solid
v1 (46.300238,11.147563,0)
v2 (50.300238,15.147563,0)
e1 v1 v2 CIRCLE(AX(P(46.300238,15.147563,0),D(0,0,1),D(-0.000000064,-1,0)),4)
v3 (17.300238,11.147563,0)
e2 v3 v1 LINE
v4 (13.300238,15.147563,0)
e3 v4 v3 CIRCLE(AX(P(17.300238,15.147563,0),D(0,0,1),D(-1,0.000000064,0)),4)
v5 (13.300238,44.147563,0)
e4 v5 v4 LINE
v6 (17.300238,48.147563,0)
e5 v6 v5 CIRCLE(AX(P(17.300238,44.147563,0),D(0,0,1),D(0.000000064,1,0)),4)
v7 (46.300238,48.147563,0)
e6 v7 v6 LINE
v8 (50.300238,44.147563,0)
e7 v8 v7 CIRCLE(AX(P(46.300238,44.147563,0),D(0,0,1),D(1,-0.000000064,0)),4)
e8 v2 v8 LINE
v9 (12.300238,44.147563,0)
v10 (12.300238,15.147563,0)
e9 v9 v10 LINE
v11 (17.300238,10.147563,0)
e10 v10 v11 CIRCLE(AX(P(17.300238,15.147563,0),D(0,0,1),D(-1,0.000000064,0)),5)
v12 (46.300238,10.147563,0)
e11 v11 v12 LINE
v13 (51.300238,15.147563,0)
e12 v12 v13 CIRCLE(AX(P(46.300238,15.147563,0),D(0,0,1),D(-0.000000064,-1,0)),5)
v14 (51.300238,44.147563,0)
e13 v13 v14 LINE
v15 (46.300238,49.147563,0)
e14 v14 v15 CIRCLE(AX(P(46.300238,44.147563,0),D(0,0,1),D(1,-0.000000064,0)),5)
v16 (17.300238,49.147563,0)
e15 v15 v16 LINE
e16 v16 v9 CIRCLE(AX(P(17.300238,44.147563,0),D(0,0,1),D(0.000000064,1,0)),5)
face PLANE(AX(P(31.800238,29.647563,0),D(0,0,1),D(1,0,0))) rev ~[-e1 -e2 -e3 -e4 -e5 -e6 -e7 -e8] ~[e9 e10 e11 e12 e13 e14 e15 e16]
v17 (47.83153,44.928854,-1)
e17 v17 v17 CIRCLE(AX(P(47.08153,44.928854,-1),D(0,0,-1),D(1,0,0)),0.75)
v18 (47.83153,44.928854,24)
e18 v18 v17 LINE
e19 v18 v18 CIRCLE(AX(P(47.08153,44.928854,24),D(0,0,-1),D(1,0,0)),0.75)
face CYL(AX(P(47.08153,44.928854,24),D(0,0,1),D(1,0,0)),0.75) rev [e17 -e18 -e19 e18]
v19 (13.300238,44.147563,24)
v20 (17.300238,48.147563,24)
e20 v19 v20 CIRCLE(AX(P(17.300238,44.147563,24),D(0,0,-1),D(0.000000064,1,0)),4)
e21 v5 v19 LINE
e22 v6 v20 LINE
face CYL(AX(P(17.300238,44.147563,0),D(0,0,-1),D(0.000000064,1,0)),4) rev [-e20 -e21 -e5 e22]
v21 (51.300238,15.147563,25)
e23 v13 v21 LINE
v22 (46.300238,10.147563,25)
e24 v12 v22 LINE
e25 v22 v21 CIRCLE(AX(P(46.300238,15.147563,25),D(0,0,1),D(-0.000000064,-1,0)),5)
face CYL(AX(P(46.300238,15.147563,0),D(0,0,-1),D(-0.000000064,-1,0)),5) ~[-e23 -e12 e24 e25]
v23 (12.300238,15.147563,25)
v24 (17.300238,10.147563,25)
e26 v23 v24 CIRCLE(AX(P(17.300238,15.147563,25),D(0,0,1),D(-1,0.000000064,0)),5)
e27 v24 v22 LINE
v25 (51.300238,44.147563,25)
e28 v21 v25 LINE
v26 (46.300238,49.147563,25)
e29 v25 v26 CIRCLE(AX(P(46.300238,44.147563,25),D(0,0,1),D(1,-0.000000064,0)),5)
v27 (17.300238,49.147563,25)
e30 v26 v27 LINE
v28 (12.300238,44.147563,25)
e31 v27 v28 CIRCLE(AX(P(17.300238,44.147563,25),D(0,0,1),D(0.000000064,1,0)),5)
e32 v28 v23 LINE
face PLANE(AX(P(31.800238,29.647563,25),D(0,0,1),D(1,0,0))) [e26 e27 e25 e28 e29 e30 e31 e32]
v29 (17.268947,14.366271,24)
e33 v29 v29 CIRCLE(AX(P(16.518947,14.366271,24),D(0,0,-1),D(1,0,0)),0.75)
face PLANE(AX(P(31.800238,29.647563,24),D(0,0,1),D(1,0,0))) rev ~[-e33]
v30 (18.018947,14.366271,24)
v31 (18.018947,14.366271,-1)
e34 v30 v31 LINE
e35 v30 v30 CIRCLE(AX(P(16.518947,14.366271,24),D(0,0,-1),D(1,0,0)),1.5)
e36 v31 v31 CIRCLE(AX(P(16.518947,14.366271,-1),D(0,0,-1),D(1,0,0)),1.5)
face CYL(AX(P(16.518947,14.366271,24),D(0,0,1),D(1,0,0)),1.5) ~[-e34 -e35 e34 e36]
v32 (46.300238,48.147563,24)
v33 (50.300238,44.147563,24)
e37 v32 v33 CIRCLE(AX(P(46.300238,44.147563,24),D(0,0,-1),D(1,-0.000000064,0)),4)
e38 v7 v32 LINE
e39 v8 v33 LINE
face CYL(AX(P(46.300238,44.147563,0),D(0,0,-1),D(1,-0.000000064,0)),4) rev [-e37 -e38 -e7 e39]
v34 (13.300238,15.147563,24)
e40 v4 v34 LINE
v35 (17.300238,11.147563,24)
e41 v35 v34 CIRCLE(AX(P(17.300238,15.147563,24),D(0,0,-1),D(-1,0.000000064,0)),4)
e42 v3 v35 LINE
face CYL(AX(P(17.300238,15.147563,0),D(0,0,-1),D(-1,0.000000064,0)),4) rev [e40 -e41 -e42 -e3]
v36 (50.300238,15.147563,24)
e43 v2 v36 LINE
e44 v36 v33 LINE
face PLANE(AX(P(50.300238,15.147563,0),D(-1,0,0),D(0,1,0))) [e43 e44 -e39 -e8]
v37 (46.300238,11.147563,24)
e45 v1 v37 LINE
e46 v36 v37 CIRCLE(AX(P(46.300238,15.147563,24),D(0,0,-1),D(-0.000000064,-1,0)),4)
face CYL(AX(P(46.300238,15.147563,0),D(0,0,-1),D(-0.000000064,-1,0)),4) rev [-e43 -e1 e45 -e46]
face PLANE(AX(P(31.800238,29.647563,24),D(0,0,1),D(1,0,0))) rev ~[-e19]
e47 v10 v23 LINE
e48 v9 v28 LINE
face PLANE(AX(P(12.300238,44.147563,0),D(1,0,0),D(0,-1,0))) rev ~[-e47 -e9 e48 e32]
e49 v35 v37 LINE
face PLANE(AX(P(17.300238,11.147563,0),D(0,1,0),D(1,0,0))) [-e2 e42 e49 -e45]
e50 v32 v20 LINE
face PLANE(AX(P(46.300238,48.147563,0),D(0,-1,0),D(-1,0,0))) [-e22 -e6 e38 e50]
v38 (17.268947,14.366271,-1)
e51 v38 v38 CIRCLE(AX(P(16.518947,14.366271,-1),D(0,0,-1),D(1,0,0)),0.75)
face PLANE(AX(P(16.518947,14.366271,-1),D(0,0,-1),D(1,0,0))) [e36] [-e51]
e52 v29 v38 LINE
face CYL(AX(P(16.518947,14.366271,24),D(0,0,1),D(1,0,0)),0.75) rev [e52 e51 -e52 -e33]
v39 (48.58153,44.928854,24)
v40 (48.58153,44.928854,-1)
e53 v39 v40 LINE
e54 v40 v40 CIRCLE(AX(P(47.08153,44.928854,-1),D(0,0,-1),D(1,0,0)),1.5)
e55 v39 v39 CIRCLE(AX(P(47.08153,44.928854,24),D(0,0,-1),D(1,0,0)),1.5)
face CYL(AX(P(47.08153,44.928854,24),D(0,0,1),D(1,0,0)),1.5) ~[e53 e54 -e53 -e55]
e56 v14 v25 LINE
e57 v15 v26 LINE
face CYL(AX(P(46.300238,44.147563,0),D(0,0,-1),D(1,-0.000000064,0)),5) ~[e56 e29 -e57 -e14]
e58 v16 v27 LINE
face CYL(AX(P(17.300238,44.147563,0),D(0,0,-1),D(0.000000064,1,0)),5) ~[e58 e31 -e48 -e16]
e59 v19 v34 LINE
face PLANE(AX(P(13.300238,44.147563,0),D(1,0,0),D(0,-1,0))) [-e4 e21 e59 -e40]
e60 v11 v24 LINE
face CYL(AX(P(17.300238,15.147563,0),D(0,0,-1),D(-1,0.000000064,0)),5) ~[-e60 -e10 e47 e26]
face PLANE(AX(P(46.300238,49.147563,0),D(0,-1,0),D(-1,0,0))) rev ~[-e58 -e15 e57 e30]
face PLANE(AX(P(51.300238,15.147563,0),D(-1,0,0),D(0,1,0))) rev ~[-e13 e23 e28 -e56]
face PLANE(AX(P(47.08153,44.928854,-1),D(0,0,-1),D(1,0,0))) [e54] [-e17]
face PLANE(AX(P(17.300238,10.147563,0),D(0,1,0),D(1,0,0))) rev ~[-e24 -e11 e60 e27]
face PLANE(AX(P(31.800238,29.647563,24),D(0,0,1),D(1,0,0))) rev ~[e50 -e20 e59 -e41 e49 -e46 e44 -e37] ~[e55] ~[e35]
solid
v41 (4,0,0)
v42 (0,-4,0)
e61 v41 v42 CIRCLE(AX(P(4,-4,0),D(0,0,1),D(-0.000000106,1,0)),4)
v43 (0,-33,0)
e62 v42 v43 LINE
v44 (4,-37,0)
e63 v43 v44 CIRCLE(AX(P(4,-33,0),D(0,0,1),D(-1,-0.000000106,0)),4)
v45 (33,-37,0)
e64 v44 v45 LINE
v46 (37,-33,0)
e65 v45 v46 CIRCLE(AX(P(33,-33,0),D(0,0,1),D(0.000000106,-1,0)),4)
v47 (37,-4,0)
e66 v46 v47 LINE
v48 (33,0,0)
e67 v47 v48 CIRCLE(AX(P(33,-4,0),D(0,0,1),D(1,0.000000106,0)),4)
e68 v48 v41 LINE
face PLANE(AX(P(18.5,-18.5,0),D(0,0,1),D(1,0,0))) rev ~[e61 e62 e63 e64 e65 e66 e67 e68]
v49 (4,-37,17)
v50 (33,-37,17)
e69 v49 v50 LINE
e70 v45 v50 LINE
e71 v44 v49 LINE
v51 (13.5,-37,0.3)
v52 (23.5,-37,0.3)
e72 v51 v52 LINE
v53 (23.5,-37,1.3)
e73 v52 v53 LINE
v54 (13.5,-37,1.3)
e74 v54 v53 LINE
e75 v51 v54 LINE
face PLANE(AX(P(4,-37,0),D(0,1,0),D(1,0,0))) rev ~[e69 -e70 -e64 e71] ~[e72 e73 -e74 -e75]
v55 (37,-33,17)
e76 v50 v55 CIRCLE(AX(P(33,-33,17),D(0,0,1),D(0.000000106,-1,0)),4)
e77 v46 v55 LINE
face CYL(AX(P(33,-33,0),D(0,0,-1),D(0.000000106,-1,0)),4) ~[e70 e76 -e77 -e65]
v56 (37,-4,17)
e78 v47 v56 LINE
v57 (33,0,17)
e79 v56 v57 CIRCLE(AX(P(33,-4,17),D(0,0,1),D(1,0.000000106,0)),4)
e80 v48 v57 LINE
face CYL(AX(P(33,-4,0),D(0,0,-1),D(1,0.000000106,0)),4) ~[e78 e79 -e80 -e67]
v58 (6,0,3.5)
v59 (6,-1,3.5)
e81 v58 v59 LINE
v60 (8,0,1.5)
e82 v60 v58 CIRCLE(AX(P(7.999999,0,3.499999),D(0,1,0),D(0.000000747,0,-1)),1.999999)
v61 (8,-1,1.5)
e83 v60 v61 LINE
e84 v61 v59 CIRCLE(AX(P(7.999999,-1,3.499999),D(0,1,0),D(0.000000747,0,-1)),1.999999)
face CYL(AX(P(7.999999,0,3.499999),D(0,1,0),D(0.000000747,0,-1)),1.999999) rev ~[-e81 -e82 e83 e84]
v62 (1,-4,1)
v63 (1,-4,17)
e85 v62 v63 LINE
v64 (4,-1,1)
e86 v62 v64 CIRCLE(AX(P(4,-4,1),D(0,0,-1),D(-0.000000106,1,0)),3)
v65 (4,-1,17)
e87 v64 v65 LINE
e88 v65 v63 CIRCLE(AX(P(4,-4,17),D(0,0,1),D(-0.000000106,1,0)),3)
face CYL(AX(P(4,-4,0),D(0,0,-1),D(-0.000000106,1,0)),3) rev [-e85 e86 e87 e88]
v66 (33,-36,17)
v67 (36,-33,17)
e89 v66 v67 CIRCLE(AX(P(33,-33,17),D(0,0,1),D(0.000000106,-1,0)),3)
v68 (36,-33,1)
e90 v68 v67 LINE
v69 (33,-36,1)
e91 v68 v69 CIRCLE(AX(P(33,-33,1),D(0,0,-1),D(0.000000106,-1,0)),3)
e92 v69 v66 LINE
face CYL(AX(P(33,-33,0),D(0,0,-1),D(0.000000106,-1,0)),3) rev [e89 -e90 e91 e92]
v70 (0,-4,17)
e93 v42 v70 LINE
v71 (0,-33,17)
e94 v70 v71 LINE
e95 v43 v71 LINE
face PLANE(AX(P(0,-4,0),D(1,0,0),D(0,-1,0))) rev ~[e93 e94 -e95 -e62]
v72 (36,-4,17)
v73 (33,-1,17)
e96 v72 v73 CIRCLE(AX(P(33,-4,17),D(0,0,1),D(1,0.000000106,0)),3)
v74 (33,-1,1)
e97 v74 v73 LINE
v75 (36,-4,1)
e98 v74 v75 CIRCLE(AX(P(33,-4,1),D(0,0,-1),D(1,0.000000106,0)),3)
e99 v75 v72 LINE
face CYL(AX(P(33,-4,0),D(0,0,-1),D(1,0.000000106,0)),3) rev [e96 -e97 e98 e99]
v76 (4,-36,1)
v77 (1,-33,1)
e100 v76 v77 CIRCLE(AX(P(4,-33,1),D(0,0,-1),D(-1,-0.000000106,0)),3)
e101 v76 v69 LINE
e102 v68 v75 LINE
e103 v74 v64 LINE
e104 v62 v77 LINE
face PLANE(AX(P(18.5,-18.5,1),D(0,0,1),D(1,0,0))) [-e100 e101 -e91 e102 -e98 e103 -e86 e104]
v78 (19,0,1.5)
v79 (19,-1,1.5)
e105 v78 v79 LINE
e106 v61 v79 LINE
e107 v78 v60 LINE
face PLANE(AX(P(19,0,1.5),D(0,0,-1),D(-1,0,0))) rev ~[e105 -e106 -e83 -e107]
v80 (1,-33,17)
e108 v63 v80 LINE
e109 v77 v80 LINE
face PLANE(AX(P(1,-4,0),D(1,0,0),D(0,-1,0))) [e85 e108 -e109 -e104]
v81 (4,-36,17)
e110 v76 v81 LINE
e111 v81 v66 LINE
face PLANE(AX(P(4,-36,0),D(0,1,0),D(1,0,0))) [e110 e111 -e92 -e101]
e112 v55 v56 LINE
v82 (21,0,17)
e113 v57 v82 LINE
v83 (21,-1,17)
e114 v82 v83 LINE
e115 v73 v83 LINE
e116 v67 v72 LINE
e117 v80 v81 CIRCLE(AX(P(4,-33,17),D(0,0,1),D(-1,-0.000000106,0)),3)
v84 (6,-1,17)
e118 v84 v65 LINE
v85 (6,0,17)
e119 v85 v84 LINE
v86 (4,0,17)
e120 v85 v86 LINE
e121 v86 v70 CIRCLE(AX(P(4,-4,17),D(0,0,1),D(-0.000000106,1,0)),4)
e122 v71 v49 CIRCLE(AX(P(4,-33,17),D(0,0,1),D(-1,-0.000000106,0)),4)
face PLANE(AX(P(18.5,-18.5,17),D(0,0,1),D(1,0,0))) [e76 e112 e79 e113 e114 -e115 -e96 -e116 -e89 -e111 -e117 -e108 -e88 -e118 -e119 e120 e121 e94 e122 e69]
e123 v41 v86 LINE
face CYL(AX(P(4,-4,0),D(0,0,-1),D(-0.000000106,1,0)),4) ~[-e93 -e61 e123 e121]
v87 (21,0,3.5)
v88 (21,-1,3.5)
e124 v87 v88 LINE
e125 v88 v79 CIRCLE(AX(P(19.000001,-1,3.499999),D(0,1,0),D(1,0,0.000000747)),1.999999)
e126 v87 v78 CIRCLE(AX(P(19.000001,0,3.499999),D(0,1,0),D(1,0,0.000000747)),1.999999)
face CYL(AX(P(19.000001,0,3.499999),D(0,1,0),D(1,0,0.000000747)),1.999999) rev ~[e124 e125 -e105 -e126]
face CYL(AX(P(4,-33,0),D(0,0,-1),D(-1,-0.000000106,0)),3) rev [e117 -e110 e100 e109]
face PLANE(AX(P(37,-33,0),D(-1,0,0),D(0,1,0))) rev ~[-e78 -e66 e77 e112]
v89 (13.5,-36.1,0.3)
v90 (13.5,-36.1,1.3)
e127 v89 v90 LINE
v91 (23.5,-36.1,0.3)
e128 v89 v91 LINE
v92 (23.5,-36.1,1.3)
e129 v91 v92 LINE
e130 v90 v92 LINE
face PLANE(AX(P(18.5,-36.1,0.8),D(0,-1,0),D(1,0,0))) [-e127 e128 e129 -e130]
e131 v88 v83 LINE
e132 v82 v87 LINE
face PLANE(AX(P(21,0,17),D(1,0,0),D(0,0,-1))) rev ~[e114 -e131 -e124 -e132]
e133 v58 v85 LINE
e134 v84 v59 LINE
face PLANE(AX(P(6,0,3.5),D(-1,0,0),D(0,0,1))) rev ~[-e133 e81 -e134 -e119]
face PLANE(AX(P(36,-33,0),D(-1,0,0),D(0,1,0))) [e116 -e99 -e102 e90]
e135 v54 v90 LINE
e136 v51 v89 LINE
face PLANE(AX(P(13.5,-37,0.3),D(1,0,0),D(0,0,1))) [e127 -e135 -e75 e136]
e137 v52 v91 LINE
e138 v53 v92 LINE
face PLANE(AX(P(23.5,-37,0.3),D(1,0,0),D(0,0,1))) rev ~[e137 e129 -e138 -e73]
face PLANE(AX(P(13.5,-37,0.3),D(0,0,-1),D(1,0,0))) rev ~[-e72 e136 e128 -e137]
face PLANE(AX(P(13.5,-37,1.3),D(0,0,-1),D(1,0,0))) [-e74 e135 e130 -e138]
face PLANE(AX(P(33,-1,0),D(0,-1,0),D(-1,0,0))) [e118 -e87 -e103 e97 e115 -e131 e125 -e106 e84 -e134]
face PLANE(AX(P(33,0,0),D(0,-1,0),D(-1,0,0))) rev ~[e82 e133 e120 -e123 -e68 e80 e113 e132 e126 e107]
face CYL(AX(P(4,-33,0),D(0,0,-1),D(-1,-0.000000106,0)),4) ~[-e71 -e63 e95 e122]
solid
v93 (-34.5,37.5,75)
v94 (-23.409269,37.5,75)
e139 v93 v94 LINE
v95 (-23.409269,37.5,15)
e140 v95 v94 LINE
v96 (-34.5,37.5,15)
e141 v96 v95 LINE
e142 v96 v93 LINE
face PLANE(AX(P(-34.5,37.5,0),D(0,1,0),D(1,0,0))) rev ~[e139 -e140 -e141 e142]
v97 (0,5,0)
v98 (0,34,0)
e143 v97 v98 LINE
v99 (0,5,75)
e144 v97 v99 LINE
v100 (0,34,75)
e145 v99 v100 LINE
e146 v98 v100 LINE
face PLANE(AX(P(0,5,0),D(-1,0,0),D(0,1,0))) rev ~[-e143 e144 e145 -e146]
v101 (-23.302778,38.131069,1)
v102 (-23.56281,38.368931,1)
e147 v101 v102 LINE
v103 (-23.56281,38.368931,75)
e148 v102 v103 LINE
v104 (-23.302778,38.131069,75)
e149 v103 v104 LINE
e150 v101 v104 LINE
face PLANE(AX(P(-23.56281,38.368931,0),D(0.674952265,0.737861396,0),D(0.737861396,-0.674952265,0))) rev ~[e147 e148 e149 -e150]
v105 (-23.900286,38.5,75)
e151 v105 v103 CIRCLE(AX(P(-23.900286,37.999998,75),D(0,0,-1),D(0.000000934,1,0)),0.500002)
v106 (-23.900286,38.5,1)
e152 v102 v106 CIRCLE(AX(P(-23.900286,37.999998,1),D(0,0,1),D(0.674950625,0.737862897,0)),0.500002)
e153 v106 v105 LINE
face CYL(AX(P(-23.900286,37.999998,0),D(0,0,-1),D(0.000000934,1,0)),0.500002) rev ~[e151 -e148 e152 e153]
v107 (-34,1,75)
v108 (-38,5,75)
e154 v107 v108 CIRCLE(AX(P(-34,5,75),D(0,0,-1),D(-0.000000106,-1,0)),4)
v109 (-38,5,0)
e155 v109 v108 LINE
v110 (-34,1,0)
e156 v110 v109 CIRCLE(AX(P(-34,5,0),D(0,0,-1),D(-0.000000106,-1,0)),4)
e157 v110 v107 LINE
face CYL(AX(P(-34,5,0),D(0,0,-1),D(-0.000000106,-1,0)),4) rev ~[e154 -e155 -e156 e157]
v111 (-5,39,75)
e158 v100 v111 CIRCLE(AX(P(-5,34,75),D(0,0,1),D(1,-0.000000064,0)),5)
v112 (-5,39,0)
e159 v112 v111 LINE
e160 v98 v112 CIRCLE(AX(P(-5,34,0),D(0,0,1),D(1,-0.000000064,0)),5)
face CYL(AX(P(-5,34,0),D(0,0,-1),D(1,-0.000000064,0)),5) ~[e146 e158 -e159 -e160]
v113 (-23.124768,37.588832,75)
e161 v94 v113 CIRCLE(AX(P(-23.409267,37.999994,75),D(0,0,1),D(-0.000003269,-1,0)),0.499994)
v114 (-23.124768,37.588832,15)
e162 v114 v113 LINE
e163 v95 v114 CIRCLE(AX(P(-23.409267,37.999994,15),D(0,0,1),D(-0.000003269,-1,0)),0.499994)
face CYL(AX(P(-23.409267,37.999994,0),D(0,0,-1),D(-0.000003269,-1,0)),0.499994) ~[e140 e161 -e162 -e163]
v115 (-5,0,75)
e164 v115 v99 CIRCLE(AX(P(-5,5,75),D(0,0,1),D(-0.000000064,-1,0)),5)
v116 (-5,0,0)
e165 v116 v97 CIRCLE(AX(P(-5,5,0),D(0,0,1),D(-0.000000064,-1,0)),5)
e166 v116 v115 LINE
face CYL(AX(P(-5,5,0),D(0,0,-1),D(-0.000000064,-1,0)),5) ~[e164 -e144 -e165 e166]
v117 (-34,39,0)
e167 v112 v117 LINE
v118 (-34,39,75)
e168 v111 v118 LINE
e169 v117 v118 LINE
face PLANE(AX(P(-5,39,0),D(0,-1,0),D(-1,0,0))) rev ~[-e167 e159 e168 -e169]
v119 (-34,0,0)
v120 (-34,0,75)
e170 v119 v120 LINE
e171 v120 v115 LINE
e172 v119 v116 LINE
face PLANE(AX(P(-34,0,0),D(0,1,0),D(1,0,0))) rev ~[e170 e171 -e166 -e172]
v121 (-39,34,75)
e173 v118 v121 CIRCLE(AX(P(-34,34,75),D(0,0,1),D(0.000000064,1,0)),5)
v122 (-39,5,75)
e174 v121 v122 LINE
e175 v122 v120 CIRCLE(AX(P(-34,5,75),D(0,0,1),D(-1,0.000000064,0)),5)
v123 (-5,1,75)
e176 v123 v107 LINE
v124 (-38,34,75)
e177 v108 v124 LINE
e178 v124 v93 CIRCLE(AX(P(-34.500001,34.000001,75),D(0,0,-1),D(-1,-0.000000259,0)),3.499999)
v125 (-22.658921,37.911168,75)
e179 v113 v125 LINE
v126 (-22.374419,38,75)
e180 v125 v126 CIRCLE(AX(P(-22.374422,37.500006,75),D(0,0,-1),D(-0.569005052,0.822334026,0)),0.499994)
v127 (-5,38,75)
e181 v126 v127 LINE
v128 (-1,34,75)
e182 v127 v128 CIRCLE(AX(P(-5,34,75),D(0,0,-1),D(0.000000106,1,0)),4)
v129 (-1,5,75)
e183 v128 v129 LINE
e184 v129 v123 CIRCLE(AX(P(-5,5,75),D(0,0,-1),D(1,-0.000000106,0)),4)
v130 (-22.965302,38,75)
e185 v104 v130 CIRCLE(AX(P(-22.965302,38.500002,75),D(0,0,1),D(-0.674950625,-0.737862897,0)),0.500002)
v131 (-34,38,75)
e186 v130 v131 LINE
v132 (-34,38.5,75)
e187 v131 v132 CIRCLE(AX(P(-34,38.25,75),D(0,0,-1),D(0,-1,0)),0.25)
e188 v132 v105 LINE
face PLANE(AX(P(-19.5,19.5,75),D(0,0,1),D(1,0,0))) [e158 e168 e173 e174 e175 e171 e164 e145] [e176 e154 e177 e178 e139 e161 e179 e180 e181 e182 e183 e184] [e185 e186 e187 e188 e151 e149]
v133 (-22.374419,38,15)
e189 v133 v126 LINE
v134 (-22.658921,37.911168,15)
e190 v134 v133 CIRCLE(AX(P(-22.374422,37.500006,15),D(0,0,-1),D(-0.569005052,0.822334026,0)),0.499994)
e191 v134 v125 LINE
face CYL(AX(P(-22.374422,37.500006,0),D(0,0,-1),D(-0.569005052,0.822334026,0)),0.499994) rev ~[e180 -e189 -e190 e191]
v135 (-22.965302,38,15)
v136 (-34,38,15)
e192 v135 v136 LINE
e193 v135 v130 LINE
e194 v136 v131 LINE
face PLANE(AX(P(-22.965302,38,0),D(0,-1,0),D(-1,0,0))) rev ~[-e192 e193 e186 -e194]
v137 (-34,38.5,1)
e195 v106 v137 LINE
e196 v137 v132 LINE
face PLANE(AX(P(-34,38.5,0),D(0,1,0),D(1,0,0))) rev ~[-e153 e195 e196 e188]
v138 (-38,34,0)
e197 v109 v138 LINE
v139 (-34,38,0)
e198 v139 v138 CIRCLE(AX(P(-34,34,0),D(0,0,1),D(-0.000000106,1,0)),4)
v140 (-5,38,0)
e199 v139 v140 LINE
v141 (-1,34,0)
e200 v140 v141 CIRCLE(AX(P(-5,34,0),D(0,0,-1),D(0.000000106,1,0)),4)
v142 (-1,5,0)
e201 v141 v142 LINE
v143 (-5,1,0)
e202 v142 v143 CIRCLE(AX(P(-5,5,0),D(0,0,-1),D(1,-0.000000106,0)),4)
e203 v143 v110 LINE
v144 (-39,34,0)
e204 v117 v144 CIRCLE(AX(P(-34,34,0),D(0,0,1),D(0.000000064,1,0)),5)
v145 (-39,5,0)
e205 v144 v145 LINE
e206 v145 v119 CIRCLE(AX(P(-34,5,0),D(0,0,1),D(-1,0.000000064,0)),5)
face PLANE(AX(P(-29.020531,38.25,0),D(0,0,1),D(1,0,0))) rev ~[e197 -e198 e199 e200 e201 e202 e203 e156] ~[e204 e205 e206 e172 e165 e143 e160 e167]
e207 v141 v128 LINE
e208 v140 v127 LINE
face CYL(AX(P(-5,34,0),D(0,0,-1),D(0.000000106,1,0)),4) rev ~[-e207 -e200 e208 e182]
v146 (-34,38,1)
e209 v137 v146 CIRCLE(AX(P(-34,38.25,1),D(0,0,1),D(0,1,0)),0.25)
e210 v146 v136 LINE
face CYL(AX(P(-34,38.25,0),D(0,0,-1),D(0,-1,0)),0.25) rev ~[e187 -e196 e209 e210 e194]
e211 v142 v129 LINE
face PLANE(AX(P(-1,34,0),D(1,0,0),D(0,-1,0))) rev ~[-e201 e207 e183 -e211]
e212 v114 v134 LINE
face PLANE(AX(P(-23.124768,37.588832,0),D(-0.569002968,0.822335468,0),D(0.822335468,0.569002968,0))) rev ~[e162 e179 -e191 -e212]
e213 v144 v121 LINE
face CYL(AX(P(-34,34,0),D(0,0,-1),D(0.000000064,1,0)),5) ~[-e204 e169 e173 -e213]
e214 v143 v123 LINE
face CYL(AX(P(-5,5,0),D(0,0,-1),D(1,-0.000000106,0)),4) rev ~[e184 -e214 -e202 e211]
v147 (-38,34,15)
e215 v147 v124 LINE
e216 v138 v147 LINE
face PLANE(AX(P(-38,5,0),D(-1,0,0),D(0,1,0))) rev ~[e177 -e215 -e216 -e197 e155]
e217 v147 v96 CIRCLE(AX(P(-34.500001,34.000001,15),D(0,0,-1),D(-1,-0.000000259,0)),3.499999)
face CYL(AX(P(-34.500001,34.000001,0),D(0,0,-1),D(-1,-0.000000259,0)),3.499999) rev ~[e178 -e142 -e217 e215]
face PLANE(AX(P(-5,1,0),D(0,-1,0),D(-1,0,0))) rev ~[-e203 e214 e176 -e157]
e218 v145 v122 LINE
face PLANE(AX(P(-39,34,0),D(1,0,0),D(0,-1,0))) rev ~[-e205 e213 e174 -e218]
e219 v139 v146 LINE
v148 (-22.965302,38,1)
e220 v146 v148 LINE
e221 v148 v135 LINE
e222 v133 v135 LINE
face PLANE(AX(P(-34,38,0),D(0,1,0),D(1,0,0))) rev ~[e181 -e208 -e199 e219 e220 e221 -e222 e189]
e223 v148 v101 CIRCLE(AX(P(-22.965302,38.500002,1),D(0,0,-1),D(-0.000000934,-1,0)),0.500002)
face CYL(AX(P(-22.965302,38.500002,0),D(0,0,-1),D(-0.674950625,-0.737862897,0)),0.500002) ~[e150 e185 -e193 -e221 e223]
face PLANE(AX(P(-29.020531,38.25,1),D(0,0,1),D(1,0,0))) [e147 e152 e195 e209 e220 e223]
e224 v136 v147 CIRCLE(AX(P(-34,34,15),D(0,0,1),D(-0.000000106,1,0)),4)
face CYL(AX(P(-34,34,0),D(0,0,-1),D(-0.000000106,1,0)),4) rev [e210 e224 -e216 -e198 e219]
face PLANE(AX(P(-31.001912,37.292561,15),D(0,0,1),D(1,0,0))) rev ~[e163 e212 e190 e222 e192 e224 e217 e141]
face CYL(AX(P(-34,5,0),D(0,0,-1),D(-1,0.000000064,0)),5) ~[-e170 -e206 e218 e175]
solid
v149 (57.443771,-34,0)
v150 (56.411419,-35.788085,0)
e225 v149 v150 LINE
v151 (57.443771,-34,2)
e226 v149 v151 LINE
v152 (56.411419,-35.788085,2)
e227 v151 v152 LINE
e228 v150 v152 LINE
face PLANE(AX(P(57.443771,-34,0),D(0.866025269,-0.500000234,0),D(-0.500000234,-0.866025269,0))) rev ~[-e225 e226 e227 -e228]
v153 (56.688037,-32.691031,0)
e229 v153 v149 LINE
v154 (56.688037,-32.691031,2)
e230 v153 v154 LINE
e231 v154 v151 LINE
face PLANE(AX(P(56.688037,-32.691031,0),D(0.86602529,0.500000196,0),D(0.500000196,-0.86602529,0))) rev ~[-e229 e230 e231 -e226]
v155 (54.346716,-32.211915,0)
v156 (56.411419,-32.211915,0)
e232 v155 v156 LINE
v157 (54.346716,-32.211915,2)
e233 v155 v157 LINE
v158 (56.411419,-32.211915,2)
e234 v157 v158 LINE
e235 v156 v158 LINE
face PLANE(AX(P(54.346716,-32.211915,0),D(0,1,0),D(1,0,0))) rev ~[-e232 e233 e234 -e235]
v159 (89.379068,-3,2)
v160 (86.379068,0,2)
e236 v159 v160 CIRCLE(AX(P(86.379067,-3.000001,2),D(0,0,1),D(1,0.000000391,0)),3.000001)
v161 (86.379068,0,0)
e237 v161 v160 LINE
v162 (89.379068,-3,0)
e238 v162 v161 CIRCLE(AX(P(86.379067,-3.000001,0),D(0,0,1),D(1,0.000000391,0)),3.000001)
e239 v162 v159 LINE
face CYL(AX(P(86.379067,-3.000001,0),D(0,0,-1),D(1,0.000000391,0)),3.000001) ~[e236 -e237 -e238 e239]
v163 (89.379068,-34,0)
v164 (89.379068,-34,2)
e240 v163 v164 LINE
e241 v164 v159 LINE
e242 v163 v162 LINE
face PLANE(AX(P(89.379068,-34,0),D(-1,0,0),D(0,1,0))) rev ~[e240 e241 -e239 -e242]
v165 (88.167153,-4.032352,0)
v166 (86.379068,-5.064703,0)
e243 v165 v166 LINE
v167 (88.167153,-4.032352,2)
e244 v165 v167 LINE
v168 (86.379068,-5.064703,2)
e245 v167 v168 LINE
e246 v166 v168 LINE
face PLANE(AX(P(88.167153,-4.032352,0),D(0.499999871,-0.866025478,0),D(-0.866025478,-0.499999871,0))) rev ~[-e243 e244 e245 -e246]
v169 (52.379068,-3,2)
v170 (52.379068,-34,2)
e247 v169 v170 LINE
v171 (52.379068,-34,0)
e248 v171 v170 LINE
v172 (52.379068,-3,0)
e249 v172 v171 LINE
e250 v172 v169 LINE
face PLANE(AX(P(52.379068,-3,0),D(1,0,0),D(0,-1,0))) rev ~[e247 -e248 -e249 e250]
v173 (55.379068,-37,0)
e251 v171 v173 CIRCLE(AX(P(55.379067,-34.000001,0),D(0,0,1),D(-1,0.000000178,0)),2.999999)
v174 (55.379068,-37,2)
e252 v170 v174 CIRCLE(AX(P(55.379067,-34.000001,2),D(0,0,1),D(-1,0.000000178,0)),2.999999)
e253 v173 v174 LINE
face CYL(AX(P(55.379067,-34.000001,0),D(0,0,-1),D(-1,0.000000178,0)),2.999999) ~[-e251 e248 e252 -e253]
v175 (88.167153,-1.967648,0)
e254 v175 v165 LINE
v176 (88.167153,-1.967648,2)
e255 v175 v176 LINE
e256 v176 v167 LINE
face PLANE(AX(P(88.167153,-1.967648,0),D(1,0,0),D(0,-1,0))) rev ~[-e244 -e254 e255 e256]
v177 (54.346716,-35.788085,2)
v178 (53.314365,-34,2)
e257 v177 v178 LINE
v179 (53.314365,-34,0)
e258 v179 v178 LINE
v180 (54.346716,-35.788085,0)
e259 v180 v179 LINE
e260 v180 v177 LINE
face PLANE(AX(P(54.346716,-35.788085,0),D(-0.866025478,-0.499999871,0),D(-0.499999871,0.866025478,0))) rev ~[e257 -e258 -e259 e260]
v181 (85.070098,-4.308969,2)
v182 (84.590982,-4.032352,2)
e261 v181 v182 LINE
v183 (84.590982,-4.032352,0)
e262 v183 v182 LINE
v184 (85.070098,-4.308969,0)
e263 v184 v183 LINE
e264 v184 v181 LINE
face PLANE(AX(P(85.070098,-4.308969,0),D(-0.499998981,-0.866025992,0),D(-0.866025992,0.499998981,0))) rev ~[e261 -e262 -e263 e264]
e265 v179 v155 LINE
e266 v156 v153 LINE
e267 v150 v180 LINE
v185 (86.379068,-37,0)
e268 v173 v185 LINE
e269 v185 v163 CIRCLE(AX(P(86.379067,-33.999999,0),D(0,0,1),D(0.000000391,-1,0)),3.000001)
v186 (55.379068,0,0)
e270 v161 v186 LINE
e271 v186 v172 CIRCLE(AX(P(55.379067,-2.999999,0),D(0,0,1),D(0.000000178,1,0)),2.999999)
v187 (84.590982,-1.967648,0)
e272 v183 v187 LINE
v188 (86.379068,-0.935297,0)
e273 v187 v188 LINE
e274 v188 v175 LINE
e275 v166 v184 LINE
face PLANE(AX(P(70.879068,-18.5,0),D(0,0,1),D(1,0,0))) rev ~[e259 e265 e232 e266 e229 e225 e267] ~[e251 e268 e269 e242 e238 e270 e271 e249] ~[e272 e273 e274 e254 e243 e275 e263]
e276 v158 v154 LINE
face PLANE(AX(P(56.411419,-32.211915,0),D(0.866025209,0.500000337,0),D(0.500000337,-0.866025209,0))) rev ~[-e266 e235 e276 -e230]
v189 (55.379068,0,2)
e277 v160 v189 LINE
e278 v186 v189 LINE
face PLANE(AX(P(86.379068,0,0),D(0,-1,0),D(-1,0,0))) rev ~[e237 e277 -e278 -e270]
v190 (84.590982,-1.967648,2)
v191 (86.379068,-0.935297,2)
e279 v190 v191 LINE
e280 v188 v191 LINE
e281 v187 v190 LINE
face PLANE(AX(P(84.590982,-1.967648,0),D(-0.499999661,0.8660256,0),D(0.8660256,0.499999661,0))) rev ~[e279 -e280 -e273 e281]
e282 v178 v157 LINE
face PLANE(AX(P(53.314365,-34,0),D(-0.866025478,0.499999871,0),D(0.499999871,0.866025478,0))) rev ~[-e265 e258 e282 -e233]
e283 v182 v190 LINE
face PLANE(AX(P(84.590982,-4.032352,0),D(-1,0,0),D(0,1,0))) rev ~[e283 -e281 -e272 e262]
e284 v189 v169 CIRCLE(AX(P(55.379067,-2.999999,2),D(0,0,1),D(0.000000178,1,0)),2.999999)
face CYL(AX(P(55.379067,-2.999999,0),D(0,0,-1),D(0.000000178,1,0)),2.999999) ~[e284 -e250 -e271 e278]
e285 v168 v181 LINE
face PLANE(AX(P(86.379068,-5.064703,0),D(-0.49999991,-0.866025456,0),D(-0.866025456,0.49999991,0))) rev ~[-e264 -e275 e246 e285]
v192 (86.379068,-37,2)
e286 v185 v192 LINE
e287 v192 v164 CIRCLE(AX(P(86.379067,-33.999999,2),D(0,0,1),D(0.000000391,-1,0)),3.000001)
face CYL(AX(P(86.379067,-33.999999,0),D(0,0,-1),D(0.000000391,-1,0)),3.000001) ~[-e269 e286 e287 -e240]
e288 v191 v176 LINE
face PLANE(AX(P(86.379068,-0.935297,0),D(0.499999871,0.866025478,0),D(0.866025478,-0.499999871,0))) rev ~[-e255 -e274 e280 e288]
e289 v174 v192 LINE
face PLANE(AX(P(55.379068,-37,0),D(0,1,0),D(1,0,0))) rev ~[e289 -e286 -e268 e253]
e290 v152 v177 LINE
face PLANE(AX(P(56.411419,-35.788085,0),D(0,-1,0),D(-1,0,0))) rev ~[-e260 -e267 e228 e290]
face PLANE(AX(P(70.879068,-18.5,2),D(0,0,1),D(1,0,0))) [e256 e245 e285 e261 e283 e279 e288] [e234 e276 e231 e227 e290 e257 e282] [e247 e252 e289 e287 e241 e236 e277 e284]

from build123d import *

# Parameters (mm, degrees)
F1_DEPTH  = 17
F2_T      = -1
F4_DEPTH  = 2
F5_W      = 10
F5_H      = 1
F6_DEPTH  = 0.9
F8_DEPTH  = 75
F9_DEPTH  = 15
F10_DEPTH = 1
F12_DEPTH = 25
F13_T     = -1
F14_R     = 1.5
F14_R_2   = 0.75
F15_DEPTH = 25
F17_DEPTH = 2


with BuildPart() as f1:
    # F0 (on Top) → F1 (new body)
    with BuildSketch(Plane.XY):
        with BuildLine():
            Line((33, 0), (4, 0))
            ThreePointArc((4, 0), (1.171573, -1.171573), (0, -4))
            Line((0, -4), (0, -33))
            ThreePointArc((0, -33), (1.171573, -35.828427), (4, -37))
            Line((4, -37), (33, -37))
            ThreePointArc((33, -37), (35.828427, -35.828427), (37, -33))
            Line((37, -33), (37, -4))
            ThreePointArc((37, -4), (35.828427, -1.171573), (33, 0))
        make_face()
    extrude(amount=F1_DEPTH)

    # F2
    f2_openings = [f1.faces().sort_by_distance(p)[0] for p in [
        (18.5, -18.5, 17),
    ]]
    offset(amount=F2_T, openings=f2_openings)

    # F3 (on face) → F4 (cut)
    with BuildSketch(Plane(origin=(0, 0, 0), x_dir=(-1, 0, 0), z_dir=(0, 1, 0))):
        with BuildLine():
            Line((-19, 1.5), (-8, 1.5))
            ThreePointArc((-8, 1.5), (-6.585786, 2.085786), (-6, 3.5))
            Line((-6, 3.5), (-6, 17))
            Line((-6, 17), (-21, 17))
            Line((-21, 17), (-21, 3.5))
            ThreePointArc((-21, 3.5), (-20.414214, 2.085786), (-19, 1.5))
        make_face()
    extrude(amount=-F4_DEPTH, mode=Mode.SUBTRACT)

    # F5 (on face) → F6 (cut)
    with BuildSketch(Plane.XZ.offset(37)):
        with Locations((18.5, 0.8)):
            Rectangle(F5_W, F5_H)
    extrude(amount=-F6_DEPTH, mode=Mode.SUBTRACT)


with BuildPart() as f8:
    # F7 (on Top) → F8 (new body)
    with BuildSketch(Plane.XY):
        with BuildLine():
            Line((-34, 0), (-5, 0))
            ThreePointArc((-5, 0), (-1.464466, 1.464466), (0, 5))
            Line((0, 5), (0, 34))
            ThreePointArc((0, 34), (-1.464466, 37.535534), (-5, 39))
            Line((-5, 39), (-34, 39))
            ThreePointArc((-34, 39), (-37.535534, 37.535534), (-39, 34))
            Line((-39, 34), (-39, 5))
            ThreePointArc((-39, 5), (-37.535534, 1.464466), (-34, 0))
        make_face()
        with BuildLine():
            ThreePointArc((-38, 34), (-36.828427, 36.828427), (-34, 38))
            ThreePointArc((-34, 38), (-34.25, 38.25), (-34, 38.5))
            Line((-34, 38.5), (-24.041062, 38.5))
            Line((-24.041062, 38.5), (-23.900286, 38.5))
            ThreePointArc((-23.900286, 38.5), (-23.719268, 38.466082), (-23.56281, 38.368931))
            Line((-23.56281, 38.368931), (-23.302778, 38.131069))
            ThreePointArc((-23.302778, 38.131069), (-23.14632, 38.033918), (-22.965302, 38))
            Line((-22.965302, 38), (-22.374419, 38))
            Line((-22.374419, 38), (-5, 38))
            ThreePointArc((-5, 38), (-2.171573, 36.828427), (-1, 34))
            Line((-1, 34), (-1, 5))
            ThreePointArc((-1, 5), (-2.171573, 2.171573), (-5, 1))
            Line((-5, 1), (-34, 1))
            ThreePointArc((-34, 1), (-36.828427, 2.171573), (-38, 5))
            Line((-38, 5), (-38, 34))
        make_face(mode=Mode.SUBTRACT)
        with BuildLine():
            Line((-24.041062, 38), (-34, 38))
            ThreePointArc((-34, 38), (-36.828427, 36.828427), (-38, 34))
            ThreePointArc((-38, 34), (-36.974874, 36.474874), (-34.5, 37.5))
            Line((-34.5, 37.5), (-23.409269, 37.5))
            ThreePointArc((-23.409269, 37.5), (-23.260246, 37.522724), (-23.124768, 37.588832))
            Line((-23.124768, 37.588832), (-22.658921, 37.911168))
            ThreePointArc((-22.658921, 37.911168), (-22.523443, 37.977276), (-22.374419, 38))
            Line((-22.374419, 38), (-22.965302, 38))
            Line((-22.965302, 38), (-24.041062, 38))
        make_face()
    extrude(amount=F8_DEPTH)

    # F7 (on Top) → F9 (cut)
    with BuildSketch(Plane.XY):
        with BuildLine():
            Line((-24.041062, 38), (-34, 38))
            ThreePointArc((-34, 38), (-36.828427, 36.828427), (-38, 34))
            ThreePointArc((-38, 34), (-36.974874, 36.474874), (-34.5, 37.5))
            Line((-34.5, 37.5), (-23.409269, 37.5))
            ThreePointArc((-23.409269, 37.5), (-23.260246, 37.522724), (-23.124768, 37.588832))
            Line((-23.124768, 37.588832), (-22.658921, 37.911168))
            ThreePointArc((-22.658921, 37.911168), (-22.523443, 37.977276), (-22.374419, 38))
            Line((-22.374419, 38), (-22.965302, 38))
            Line((-22.965302, 38), (-24.041062, 38))
        make_face()
    extrude(amount=F9_DEPTH, mode=Mode.SUBTRACT)

    # F7 (on Top) → F10 (join)
    with BuildSketch(Plane.XY):
        with BuildLine():
            ThreePointArc((-34, 38.5), (-34.25, 38.25), (-34, 38))
            Line((-34, 38), (-24.041062, 38))
            ThreePointArc((-24.041062, 38), (-23.791062, 38.25), (-24.041062, 38.5))
            Line((-24.041062, 38.5), (-34, 38.5))
        make_face()
        with BuildLine():
            ThreePointArc((-24.041062, 38.5), (-23.791062, 38.25), (-24.041062, 38))
            Line((-24.041062, 38), (-22.965302, 38))
            ThreePointArc((-22.965302, 38), (-23.14632, 38.033918), (-23.302778, 38.131069))
            Line((-23.302778, 38.131069), (-23.56281, 38.368931))
            ThreePointArc((-23.56281, 38.368931), (-23.719268, 38.466082), (-23.900286, 38.5))
            Line((-23.900286, 38.5), (-24.041062, 38.5))
        make_face()
    extrude(amount=F10_DEPTH)


with BuildPart() as f12:
    # F11 (on Top) → F12 (new body)
    with BuildSketch(Plane.XY):
        with BuildLine():
            ThreePointArc((46.300238, 10.147563), (49.835772, 11.612029), (51.300238, 15.147563))
            Line((51.300238, 15.147563), (51.300238, 44.147563))
            ThreePointArc((51.300238, 44.147563), (49.835772, 47.683097), (46.300238, 49.147563))
            Line((46.300238, 49.147563), (36.664321, 49.147563))
            Line((36.664321, 49.147563), (36.534507, 49.147563))
            Line((36.534507, 49.147563), (17.300238, 49.147563))
            ThreePointArc((17.300238, 49.147563), (13.764704, 47.683097), (12.300238, 44.147563))
            Line((12.300238, 44.147563), (12.300238, 15.147563))
            ThreePointArc((12.300238, 15.147563), (13.764704, 11.612029), (17.300238, 10.147563))
            Line((17.300238, 10.147563), (46.300238, 10.147563))
        make_face()
    extrude(amount=F12_DEPTH)

    # F13
    f13_openings = [f12.faces().sort_by_distance(p)[0] for p in [
        (31.800238, 29.647563, 0),
    ]]
    offset(amount=F13_T, openings=f13_openings)

    # F14 (on face) → F15 (join)
    with BuildSketch(Plane(origin=(0, 0, 24), x_dir=(1, 0, 0), z_dir=(0, 0, -1))):
        with Locations((16.518947, -14.366271)):
            Circle(F14_R)
        with Locations((16.518947, -14.366271)):
            Circle(F14_R_2, mode=Mode.SUBTRACT)
        with Locations((47.08153, -44.928854)):
            Circle(F14_R)
        with Locations((47.08153, -44.928854)):
            Circle(F14_R_2, mode=Mode.SUBTRACT)
    extrude(amount=F15_DEPTH)


with BuildPart() as f17:
    # F16 (on Top) → F17 (new body)
    with BuildSketch(Plane.XY):
        with BuildLine():
            Line((86.379068, 0), (55.379068, 0))
            ThreePointArc((55.379068, 0), (53.257747, -0.87868), (52.379068, -3))
            Line((52.379068, -3), (52.379068, -34))
            ThreePointArc((52.379068, -34), (53.257747, -36.12132), (55.379068, -37))
            Line((55.379068, -37), (86.379068, -37))
            ThreePointArc((86.379068, -37), (88.500388, -36.12132), (89.379068, -34))
            Line((89.379068, -34), (89.379068, -3))
            ThreePointArc((89.379068, -3), (88.500388, -0.87868), (86.379068, 0))
        make_face()
        Polygon((56.411419, -32.211915), (56.688037, -32.691031), (57.443771, -34), (56.411419, -35.788085), (54.346716, -35.788085), (53.314365, -34), (54.346716, -32.211915), align=None, mode=Mode.SUBTRACT)
        Polygon((86.379068, -5.064703), (85.070098, -4.308969), (84.590982, -4.032352), (84.590982, -1.967648), (86.379068, -0.935297), (88.167153, -1.967648), (88.167153, -4.032352), align=None, mode=Mode.SUBTRACT)
    extrude(amount=F17_DEPTH)


solid = Compound([f1.part, f8.part, f12.part, f17.part])
